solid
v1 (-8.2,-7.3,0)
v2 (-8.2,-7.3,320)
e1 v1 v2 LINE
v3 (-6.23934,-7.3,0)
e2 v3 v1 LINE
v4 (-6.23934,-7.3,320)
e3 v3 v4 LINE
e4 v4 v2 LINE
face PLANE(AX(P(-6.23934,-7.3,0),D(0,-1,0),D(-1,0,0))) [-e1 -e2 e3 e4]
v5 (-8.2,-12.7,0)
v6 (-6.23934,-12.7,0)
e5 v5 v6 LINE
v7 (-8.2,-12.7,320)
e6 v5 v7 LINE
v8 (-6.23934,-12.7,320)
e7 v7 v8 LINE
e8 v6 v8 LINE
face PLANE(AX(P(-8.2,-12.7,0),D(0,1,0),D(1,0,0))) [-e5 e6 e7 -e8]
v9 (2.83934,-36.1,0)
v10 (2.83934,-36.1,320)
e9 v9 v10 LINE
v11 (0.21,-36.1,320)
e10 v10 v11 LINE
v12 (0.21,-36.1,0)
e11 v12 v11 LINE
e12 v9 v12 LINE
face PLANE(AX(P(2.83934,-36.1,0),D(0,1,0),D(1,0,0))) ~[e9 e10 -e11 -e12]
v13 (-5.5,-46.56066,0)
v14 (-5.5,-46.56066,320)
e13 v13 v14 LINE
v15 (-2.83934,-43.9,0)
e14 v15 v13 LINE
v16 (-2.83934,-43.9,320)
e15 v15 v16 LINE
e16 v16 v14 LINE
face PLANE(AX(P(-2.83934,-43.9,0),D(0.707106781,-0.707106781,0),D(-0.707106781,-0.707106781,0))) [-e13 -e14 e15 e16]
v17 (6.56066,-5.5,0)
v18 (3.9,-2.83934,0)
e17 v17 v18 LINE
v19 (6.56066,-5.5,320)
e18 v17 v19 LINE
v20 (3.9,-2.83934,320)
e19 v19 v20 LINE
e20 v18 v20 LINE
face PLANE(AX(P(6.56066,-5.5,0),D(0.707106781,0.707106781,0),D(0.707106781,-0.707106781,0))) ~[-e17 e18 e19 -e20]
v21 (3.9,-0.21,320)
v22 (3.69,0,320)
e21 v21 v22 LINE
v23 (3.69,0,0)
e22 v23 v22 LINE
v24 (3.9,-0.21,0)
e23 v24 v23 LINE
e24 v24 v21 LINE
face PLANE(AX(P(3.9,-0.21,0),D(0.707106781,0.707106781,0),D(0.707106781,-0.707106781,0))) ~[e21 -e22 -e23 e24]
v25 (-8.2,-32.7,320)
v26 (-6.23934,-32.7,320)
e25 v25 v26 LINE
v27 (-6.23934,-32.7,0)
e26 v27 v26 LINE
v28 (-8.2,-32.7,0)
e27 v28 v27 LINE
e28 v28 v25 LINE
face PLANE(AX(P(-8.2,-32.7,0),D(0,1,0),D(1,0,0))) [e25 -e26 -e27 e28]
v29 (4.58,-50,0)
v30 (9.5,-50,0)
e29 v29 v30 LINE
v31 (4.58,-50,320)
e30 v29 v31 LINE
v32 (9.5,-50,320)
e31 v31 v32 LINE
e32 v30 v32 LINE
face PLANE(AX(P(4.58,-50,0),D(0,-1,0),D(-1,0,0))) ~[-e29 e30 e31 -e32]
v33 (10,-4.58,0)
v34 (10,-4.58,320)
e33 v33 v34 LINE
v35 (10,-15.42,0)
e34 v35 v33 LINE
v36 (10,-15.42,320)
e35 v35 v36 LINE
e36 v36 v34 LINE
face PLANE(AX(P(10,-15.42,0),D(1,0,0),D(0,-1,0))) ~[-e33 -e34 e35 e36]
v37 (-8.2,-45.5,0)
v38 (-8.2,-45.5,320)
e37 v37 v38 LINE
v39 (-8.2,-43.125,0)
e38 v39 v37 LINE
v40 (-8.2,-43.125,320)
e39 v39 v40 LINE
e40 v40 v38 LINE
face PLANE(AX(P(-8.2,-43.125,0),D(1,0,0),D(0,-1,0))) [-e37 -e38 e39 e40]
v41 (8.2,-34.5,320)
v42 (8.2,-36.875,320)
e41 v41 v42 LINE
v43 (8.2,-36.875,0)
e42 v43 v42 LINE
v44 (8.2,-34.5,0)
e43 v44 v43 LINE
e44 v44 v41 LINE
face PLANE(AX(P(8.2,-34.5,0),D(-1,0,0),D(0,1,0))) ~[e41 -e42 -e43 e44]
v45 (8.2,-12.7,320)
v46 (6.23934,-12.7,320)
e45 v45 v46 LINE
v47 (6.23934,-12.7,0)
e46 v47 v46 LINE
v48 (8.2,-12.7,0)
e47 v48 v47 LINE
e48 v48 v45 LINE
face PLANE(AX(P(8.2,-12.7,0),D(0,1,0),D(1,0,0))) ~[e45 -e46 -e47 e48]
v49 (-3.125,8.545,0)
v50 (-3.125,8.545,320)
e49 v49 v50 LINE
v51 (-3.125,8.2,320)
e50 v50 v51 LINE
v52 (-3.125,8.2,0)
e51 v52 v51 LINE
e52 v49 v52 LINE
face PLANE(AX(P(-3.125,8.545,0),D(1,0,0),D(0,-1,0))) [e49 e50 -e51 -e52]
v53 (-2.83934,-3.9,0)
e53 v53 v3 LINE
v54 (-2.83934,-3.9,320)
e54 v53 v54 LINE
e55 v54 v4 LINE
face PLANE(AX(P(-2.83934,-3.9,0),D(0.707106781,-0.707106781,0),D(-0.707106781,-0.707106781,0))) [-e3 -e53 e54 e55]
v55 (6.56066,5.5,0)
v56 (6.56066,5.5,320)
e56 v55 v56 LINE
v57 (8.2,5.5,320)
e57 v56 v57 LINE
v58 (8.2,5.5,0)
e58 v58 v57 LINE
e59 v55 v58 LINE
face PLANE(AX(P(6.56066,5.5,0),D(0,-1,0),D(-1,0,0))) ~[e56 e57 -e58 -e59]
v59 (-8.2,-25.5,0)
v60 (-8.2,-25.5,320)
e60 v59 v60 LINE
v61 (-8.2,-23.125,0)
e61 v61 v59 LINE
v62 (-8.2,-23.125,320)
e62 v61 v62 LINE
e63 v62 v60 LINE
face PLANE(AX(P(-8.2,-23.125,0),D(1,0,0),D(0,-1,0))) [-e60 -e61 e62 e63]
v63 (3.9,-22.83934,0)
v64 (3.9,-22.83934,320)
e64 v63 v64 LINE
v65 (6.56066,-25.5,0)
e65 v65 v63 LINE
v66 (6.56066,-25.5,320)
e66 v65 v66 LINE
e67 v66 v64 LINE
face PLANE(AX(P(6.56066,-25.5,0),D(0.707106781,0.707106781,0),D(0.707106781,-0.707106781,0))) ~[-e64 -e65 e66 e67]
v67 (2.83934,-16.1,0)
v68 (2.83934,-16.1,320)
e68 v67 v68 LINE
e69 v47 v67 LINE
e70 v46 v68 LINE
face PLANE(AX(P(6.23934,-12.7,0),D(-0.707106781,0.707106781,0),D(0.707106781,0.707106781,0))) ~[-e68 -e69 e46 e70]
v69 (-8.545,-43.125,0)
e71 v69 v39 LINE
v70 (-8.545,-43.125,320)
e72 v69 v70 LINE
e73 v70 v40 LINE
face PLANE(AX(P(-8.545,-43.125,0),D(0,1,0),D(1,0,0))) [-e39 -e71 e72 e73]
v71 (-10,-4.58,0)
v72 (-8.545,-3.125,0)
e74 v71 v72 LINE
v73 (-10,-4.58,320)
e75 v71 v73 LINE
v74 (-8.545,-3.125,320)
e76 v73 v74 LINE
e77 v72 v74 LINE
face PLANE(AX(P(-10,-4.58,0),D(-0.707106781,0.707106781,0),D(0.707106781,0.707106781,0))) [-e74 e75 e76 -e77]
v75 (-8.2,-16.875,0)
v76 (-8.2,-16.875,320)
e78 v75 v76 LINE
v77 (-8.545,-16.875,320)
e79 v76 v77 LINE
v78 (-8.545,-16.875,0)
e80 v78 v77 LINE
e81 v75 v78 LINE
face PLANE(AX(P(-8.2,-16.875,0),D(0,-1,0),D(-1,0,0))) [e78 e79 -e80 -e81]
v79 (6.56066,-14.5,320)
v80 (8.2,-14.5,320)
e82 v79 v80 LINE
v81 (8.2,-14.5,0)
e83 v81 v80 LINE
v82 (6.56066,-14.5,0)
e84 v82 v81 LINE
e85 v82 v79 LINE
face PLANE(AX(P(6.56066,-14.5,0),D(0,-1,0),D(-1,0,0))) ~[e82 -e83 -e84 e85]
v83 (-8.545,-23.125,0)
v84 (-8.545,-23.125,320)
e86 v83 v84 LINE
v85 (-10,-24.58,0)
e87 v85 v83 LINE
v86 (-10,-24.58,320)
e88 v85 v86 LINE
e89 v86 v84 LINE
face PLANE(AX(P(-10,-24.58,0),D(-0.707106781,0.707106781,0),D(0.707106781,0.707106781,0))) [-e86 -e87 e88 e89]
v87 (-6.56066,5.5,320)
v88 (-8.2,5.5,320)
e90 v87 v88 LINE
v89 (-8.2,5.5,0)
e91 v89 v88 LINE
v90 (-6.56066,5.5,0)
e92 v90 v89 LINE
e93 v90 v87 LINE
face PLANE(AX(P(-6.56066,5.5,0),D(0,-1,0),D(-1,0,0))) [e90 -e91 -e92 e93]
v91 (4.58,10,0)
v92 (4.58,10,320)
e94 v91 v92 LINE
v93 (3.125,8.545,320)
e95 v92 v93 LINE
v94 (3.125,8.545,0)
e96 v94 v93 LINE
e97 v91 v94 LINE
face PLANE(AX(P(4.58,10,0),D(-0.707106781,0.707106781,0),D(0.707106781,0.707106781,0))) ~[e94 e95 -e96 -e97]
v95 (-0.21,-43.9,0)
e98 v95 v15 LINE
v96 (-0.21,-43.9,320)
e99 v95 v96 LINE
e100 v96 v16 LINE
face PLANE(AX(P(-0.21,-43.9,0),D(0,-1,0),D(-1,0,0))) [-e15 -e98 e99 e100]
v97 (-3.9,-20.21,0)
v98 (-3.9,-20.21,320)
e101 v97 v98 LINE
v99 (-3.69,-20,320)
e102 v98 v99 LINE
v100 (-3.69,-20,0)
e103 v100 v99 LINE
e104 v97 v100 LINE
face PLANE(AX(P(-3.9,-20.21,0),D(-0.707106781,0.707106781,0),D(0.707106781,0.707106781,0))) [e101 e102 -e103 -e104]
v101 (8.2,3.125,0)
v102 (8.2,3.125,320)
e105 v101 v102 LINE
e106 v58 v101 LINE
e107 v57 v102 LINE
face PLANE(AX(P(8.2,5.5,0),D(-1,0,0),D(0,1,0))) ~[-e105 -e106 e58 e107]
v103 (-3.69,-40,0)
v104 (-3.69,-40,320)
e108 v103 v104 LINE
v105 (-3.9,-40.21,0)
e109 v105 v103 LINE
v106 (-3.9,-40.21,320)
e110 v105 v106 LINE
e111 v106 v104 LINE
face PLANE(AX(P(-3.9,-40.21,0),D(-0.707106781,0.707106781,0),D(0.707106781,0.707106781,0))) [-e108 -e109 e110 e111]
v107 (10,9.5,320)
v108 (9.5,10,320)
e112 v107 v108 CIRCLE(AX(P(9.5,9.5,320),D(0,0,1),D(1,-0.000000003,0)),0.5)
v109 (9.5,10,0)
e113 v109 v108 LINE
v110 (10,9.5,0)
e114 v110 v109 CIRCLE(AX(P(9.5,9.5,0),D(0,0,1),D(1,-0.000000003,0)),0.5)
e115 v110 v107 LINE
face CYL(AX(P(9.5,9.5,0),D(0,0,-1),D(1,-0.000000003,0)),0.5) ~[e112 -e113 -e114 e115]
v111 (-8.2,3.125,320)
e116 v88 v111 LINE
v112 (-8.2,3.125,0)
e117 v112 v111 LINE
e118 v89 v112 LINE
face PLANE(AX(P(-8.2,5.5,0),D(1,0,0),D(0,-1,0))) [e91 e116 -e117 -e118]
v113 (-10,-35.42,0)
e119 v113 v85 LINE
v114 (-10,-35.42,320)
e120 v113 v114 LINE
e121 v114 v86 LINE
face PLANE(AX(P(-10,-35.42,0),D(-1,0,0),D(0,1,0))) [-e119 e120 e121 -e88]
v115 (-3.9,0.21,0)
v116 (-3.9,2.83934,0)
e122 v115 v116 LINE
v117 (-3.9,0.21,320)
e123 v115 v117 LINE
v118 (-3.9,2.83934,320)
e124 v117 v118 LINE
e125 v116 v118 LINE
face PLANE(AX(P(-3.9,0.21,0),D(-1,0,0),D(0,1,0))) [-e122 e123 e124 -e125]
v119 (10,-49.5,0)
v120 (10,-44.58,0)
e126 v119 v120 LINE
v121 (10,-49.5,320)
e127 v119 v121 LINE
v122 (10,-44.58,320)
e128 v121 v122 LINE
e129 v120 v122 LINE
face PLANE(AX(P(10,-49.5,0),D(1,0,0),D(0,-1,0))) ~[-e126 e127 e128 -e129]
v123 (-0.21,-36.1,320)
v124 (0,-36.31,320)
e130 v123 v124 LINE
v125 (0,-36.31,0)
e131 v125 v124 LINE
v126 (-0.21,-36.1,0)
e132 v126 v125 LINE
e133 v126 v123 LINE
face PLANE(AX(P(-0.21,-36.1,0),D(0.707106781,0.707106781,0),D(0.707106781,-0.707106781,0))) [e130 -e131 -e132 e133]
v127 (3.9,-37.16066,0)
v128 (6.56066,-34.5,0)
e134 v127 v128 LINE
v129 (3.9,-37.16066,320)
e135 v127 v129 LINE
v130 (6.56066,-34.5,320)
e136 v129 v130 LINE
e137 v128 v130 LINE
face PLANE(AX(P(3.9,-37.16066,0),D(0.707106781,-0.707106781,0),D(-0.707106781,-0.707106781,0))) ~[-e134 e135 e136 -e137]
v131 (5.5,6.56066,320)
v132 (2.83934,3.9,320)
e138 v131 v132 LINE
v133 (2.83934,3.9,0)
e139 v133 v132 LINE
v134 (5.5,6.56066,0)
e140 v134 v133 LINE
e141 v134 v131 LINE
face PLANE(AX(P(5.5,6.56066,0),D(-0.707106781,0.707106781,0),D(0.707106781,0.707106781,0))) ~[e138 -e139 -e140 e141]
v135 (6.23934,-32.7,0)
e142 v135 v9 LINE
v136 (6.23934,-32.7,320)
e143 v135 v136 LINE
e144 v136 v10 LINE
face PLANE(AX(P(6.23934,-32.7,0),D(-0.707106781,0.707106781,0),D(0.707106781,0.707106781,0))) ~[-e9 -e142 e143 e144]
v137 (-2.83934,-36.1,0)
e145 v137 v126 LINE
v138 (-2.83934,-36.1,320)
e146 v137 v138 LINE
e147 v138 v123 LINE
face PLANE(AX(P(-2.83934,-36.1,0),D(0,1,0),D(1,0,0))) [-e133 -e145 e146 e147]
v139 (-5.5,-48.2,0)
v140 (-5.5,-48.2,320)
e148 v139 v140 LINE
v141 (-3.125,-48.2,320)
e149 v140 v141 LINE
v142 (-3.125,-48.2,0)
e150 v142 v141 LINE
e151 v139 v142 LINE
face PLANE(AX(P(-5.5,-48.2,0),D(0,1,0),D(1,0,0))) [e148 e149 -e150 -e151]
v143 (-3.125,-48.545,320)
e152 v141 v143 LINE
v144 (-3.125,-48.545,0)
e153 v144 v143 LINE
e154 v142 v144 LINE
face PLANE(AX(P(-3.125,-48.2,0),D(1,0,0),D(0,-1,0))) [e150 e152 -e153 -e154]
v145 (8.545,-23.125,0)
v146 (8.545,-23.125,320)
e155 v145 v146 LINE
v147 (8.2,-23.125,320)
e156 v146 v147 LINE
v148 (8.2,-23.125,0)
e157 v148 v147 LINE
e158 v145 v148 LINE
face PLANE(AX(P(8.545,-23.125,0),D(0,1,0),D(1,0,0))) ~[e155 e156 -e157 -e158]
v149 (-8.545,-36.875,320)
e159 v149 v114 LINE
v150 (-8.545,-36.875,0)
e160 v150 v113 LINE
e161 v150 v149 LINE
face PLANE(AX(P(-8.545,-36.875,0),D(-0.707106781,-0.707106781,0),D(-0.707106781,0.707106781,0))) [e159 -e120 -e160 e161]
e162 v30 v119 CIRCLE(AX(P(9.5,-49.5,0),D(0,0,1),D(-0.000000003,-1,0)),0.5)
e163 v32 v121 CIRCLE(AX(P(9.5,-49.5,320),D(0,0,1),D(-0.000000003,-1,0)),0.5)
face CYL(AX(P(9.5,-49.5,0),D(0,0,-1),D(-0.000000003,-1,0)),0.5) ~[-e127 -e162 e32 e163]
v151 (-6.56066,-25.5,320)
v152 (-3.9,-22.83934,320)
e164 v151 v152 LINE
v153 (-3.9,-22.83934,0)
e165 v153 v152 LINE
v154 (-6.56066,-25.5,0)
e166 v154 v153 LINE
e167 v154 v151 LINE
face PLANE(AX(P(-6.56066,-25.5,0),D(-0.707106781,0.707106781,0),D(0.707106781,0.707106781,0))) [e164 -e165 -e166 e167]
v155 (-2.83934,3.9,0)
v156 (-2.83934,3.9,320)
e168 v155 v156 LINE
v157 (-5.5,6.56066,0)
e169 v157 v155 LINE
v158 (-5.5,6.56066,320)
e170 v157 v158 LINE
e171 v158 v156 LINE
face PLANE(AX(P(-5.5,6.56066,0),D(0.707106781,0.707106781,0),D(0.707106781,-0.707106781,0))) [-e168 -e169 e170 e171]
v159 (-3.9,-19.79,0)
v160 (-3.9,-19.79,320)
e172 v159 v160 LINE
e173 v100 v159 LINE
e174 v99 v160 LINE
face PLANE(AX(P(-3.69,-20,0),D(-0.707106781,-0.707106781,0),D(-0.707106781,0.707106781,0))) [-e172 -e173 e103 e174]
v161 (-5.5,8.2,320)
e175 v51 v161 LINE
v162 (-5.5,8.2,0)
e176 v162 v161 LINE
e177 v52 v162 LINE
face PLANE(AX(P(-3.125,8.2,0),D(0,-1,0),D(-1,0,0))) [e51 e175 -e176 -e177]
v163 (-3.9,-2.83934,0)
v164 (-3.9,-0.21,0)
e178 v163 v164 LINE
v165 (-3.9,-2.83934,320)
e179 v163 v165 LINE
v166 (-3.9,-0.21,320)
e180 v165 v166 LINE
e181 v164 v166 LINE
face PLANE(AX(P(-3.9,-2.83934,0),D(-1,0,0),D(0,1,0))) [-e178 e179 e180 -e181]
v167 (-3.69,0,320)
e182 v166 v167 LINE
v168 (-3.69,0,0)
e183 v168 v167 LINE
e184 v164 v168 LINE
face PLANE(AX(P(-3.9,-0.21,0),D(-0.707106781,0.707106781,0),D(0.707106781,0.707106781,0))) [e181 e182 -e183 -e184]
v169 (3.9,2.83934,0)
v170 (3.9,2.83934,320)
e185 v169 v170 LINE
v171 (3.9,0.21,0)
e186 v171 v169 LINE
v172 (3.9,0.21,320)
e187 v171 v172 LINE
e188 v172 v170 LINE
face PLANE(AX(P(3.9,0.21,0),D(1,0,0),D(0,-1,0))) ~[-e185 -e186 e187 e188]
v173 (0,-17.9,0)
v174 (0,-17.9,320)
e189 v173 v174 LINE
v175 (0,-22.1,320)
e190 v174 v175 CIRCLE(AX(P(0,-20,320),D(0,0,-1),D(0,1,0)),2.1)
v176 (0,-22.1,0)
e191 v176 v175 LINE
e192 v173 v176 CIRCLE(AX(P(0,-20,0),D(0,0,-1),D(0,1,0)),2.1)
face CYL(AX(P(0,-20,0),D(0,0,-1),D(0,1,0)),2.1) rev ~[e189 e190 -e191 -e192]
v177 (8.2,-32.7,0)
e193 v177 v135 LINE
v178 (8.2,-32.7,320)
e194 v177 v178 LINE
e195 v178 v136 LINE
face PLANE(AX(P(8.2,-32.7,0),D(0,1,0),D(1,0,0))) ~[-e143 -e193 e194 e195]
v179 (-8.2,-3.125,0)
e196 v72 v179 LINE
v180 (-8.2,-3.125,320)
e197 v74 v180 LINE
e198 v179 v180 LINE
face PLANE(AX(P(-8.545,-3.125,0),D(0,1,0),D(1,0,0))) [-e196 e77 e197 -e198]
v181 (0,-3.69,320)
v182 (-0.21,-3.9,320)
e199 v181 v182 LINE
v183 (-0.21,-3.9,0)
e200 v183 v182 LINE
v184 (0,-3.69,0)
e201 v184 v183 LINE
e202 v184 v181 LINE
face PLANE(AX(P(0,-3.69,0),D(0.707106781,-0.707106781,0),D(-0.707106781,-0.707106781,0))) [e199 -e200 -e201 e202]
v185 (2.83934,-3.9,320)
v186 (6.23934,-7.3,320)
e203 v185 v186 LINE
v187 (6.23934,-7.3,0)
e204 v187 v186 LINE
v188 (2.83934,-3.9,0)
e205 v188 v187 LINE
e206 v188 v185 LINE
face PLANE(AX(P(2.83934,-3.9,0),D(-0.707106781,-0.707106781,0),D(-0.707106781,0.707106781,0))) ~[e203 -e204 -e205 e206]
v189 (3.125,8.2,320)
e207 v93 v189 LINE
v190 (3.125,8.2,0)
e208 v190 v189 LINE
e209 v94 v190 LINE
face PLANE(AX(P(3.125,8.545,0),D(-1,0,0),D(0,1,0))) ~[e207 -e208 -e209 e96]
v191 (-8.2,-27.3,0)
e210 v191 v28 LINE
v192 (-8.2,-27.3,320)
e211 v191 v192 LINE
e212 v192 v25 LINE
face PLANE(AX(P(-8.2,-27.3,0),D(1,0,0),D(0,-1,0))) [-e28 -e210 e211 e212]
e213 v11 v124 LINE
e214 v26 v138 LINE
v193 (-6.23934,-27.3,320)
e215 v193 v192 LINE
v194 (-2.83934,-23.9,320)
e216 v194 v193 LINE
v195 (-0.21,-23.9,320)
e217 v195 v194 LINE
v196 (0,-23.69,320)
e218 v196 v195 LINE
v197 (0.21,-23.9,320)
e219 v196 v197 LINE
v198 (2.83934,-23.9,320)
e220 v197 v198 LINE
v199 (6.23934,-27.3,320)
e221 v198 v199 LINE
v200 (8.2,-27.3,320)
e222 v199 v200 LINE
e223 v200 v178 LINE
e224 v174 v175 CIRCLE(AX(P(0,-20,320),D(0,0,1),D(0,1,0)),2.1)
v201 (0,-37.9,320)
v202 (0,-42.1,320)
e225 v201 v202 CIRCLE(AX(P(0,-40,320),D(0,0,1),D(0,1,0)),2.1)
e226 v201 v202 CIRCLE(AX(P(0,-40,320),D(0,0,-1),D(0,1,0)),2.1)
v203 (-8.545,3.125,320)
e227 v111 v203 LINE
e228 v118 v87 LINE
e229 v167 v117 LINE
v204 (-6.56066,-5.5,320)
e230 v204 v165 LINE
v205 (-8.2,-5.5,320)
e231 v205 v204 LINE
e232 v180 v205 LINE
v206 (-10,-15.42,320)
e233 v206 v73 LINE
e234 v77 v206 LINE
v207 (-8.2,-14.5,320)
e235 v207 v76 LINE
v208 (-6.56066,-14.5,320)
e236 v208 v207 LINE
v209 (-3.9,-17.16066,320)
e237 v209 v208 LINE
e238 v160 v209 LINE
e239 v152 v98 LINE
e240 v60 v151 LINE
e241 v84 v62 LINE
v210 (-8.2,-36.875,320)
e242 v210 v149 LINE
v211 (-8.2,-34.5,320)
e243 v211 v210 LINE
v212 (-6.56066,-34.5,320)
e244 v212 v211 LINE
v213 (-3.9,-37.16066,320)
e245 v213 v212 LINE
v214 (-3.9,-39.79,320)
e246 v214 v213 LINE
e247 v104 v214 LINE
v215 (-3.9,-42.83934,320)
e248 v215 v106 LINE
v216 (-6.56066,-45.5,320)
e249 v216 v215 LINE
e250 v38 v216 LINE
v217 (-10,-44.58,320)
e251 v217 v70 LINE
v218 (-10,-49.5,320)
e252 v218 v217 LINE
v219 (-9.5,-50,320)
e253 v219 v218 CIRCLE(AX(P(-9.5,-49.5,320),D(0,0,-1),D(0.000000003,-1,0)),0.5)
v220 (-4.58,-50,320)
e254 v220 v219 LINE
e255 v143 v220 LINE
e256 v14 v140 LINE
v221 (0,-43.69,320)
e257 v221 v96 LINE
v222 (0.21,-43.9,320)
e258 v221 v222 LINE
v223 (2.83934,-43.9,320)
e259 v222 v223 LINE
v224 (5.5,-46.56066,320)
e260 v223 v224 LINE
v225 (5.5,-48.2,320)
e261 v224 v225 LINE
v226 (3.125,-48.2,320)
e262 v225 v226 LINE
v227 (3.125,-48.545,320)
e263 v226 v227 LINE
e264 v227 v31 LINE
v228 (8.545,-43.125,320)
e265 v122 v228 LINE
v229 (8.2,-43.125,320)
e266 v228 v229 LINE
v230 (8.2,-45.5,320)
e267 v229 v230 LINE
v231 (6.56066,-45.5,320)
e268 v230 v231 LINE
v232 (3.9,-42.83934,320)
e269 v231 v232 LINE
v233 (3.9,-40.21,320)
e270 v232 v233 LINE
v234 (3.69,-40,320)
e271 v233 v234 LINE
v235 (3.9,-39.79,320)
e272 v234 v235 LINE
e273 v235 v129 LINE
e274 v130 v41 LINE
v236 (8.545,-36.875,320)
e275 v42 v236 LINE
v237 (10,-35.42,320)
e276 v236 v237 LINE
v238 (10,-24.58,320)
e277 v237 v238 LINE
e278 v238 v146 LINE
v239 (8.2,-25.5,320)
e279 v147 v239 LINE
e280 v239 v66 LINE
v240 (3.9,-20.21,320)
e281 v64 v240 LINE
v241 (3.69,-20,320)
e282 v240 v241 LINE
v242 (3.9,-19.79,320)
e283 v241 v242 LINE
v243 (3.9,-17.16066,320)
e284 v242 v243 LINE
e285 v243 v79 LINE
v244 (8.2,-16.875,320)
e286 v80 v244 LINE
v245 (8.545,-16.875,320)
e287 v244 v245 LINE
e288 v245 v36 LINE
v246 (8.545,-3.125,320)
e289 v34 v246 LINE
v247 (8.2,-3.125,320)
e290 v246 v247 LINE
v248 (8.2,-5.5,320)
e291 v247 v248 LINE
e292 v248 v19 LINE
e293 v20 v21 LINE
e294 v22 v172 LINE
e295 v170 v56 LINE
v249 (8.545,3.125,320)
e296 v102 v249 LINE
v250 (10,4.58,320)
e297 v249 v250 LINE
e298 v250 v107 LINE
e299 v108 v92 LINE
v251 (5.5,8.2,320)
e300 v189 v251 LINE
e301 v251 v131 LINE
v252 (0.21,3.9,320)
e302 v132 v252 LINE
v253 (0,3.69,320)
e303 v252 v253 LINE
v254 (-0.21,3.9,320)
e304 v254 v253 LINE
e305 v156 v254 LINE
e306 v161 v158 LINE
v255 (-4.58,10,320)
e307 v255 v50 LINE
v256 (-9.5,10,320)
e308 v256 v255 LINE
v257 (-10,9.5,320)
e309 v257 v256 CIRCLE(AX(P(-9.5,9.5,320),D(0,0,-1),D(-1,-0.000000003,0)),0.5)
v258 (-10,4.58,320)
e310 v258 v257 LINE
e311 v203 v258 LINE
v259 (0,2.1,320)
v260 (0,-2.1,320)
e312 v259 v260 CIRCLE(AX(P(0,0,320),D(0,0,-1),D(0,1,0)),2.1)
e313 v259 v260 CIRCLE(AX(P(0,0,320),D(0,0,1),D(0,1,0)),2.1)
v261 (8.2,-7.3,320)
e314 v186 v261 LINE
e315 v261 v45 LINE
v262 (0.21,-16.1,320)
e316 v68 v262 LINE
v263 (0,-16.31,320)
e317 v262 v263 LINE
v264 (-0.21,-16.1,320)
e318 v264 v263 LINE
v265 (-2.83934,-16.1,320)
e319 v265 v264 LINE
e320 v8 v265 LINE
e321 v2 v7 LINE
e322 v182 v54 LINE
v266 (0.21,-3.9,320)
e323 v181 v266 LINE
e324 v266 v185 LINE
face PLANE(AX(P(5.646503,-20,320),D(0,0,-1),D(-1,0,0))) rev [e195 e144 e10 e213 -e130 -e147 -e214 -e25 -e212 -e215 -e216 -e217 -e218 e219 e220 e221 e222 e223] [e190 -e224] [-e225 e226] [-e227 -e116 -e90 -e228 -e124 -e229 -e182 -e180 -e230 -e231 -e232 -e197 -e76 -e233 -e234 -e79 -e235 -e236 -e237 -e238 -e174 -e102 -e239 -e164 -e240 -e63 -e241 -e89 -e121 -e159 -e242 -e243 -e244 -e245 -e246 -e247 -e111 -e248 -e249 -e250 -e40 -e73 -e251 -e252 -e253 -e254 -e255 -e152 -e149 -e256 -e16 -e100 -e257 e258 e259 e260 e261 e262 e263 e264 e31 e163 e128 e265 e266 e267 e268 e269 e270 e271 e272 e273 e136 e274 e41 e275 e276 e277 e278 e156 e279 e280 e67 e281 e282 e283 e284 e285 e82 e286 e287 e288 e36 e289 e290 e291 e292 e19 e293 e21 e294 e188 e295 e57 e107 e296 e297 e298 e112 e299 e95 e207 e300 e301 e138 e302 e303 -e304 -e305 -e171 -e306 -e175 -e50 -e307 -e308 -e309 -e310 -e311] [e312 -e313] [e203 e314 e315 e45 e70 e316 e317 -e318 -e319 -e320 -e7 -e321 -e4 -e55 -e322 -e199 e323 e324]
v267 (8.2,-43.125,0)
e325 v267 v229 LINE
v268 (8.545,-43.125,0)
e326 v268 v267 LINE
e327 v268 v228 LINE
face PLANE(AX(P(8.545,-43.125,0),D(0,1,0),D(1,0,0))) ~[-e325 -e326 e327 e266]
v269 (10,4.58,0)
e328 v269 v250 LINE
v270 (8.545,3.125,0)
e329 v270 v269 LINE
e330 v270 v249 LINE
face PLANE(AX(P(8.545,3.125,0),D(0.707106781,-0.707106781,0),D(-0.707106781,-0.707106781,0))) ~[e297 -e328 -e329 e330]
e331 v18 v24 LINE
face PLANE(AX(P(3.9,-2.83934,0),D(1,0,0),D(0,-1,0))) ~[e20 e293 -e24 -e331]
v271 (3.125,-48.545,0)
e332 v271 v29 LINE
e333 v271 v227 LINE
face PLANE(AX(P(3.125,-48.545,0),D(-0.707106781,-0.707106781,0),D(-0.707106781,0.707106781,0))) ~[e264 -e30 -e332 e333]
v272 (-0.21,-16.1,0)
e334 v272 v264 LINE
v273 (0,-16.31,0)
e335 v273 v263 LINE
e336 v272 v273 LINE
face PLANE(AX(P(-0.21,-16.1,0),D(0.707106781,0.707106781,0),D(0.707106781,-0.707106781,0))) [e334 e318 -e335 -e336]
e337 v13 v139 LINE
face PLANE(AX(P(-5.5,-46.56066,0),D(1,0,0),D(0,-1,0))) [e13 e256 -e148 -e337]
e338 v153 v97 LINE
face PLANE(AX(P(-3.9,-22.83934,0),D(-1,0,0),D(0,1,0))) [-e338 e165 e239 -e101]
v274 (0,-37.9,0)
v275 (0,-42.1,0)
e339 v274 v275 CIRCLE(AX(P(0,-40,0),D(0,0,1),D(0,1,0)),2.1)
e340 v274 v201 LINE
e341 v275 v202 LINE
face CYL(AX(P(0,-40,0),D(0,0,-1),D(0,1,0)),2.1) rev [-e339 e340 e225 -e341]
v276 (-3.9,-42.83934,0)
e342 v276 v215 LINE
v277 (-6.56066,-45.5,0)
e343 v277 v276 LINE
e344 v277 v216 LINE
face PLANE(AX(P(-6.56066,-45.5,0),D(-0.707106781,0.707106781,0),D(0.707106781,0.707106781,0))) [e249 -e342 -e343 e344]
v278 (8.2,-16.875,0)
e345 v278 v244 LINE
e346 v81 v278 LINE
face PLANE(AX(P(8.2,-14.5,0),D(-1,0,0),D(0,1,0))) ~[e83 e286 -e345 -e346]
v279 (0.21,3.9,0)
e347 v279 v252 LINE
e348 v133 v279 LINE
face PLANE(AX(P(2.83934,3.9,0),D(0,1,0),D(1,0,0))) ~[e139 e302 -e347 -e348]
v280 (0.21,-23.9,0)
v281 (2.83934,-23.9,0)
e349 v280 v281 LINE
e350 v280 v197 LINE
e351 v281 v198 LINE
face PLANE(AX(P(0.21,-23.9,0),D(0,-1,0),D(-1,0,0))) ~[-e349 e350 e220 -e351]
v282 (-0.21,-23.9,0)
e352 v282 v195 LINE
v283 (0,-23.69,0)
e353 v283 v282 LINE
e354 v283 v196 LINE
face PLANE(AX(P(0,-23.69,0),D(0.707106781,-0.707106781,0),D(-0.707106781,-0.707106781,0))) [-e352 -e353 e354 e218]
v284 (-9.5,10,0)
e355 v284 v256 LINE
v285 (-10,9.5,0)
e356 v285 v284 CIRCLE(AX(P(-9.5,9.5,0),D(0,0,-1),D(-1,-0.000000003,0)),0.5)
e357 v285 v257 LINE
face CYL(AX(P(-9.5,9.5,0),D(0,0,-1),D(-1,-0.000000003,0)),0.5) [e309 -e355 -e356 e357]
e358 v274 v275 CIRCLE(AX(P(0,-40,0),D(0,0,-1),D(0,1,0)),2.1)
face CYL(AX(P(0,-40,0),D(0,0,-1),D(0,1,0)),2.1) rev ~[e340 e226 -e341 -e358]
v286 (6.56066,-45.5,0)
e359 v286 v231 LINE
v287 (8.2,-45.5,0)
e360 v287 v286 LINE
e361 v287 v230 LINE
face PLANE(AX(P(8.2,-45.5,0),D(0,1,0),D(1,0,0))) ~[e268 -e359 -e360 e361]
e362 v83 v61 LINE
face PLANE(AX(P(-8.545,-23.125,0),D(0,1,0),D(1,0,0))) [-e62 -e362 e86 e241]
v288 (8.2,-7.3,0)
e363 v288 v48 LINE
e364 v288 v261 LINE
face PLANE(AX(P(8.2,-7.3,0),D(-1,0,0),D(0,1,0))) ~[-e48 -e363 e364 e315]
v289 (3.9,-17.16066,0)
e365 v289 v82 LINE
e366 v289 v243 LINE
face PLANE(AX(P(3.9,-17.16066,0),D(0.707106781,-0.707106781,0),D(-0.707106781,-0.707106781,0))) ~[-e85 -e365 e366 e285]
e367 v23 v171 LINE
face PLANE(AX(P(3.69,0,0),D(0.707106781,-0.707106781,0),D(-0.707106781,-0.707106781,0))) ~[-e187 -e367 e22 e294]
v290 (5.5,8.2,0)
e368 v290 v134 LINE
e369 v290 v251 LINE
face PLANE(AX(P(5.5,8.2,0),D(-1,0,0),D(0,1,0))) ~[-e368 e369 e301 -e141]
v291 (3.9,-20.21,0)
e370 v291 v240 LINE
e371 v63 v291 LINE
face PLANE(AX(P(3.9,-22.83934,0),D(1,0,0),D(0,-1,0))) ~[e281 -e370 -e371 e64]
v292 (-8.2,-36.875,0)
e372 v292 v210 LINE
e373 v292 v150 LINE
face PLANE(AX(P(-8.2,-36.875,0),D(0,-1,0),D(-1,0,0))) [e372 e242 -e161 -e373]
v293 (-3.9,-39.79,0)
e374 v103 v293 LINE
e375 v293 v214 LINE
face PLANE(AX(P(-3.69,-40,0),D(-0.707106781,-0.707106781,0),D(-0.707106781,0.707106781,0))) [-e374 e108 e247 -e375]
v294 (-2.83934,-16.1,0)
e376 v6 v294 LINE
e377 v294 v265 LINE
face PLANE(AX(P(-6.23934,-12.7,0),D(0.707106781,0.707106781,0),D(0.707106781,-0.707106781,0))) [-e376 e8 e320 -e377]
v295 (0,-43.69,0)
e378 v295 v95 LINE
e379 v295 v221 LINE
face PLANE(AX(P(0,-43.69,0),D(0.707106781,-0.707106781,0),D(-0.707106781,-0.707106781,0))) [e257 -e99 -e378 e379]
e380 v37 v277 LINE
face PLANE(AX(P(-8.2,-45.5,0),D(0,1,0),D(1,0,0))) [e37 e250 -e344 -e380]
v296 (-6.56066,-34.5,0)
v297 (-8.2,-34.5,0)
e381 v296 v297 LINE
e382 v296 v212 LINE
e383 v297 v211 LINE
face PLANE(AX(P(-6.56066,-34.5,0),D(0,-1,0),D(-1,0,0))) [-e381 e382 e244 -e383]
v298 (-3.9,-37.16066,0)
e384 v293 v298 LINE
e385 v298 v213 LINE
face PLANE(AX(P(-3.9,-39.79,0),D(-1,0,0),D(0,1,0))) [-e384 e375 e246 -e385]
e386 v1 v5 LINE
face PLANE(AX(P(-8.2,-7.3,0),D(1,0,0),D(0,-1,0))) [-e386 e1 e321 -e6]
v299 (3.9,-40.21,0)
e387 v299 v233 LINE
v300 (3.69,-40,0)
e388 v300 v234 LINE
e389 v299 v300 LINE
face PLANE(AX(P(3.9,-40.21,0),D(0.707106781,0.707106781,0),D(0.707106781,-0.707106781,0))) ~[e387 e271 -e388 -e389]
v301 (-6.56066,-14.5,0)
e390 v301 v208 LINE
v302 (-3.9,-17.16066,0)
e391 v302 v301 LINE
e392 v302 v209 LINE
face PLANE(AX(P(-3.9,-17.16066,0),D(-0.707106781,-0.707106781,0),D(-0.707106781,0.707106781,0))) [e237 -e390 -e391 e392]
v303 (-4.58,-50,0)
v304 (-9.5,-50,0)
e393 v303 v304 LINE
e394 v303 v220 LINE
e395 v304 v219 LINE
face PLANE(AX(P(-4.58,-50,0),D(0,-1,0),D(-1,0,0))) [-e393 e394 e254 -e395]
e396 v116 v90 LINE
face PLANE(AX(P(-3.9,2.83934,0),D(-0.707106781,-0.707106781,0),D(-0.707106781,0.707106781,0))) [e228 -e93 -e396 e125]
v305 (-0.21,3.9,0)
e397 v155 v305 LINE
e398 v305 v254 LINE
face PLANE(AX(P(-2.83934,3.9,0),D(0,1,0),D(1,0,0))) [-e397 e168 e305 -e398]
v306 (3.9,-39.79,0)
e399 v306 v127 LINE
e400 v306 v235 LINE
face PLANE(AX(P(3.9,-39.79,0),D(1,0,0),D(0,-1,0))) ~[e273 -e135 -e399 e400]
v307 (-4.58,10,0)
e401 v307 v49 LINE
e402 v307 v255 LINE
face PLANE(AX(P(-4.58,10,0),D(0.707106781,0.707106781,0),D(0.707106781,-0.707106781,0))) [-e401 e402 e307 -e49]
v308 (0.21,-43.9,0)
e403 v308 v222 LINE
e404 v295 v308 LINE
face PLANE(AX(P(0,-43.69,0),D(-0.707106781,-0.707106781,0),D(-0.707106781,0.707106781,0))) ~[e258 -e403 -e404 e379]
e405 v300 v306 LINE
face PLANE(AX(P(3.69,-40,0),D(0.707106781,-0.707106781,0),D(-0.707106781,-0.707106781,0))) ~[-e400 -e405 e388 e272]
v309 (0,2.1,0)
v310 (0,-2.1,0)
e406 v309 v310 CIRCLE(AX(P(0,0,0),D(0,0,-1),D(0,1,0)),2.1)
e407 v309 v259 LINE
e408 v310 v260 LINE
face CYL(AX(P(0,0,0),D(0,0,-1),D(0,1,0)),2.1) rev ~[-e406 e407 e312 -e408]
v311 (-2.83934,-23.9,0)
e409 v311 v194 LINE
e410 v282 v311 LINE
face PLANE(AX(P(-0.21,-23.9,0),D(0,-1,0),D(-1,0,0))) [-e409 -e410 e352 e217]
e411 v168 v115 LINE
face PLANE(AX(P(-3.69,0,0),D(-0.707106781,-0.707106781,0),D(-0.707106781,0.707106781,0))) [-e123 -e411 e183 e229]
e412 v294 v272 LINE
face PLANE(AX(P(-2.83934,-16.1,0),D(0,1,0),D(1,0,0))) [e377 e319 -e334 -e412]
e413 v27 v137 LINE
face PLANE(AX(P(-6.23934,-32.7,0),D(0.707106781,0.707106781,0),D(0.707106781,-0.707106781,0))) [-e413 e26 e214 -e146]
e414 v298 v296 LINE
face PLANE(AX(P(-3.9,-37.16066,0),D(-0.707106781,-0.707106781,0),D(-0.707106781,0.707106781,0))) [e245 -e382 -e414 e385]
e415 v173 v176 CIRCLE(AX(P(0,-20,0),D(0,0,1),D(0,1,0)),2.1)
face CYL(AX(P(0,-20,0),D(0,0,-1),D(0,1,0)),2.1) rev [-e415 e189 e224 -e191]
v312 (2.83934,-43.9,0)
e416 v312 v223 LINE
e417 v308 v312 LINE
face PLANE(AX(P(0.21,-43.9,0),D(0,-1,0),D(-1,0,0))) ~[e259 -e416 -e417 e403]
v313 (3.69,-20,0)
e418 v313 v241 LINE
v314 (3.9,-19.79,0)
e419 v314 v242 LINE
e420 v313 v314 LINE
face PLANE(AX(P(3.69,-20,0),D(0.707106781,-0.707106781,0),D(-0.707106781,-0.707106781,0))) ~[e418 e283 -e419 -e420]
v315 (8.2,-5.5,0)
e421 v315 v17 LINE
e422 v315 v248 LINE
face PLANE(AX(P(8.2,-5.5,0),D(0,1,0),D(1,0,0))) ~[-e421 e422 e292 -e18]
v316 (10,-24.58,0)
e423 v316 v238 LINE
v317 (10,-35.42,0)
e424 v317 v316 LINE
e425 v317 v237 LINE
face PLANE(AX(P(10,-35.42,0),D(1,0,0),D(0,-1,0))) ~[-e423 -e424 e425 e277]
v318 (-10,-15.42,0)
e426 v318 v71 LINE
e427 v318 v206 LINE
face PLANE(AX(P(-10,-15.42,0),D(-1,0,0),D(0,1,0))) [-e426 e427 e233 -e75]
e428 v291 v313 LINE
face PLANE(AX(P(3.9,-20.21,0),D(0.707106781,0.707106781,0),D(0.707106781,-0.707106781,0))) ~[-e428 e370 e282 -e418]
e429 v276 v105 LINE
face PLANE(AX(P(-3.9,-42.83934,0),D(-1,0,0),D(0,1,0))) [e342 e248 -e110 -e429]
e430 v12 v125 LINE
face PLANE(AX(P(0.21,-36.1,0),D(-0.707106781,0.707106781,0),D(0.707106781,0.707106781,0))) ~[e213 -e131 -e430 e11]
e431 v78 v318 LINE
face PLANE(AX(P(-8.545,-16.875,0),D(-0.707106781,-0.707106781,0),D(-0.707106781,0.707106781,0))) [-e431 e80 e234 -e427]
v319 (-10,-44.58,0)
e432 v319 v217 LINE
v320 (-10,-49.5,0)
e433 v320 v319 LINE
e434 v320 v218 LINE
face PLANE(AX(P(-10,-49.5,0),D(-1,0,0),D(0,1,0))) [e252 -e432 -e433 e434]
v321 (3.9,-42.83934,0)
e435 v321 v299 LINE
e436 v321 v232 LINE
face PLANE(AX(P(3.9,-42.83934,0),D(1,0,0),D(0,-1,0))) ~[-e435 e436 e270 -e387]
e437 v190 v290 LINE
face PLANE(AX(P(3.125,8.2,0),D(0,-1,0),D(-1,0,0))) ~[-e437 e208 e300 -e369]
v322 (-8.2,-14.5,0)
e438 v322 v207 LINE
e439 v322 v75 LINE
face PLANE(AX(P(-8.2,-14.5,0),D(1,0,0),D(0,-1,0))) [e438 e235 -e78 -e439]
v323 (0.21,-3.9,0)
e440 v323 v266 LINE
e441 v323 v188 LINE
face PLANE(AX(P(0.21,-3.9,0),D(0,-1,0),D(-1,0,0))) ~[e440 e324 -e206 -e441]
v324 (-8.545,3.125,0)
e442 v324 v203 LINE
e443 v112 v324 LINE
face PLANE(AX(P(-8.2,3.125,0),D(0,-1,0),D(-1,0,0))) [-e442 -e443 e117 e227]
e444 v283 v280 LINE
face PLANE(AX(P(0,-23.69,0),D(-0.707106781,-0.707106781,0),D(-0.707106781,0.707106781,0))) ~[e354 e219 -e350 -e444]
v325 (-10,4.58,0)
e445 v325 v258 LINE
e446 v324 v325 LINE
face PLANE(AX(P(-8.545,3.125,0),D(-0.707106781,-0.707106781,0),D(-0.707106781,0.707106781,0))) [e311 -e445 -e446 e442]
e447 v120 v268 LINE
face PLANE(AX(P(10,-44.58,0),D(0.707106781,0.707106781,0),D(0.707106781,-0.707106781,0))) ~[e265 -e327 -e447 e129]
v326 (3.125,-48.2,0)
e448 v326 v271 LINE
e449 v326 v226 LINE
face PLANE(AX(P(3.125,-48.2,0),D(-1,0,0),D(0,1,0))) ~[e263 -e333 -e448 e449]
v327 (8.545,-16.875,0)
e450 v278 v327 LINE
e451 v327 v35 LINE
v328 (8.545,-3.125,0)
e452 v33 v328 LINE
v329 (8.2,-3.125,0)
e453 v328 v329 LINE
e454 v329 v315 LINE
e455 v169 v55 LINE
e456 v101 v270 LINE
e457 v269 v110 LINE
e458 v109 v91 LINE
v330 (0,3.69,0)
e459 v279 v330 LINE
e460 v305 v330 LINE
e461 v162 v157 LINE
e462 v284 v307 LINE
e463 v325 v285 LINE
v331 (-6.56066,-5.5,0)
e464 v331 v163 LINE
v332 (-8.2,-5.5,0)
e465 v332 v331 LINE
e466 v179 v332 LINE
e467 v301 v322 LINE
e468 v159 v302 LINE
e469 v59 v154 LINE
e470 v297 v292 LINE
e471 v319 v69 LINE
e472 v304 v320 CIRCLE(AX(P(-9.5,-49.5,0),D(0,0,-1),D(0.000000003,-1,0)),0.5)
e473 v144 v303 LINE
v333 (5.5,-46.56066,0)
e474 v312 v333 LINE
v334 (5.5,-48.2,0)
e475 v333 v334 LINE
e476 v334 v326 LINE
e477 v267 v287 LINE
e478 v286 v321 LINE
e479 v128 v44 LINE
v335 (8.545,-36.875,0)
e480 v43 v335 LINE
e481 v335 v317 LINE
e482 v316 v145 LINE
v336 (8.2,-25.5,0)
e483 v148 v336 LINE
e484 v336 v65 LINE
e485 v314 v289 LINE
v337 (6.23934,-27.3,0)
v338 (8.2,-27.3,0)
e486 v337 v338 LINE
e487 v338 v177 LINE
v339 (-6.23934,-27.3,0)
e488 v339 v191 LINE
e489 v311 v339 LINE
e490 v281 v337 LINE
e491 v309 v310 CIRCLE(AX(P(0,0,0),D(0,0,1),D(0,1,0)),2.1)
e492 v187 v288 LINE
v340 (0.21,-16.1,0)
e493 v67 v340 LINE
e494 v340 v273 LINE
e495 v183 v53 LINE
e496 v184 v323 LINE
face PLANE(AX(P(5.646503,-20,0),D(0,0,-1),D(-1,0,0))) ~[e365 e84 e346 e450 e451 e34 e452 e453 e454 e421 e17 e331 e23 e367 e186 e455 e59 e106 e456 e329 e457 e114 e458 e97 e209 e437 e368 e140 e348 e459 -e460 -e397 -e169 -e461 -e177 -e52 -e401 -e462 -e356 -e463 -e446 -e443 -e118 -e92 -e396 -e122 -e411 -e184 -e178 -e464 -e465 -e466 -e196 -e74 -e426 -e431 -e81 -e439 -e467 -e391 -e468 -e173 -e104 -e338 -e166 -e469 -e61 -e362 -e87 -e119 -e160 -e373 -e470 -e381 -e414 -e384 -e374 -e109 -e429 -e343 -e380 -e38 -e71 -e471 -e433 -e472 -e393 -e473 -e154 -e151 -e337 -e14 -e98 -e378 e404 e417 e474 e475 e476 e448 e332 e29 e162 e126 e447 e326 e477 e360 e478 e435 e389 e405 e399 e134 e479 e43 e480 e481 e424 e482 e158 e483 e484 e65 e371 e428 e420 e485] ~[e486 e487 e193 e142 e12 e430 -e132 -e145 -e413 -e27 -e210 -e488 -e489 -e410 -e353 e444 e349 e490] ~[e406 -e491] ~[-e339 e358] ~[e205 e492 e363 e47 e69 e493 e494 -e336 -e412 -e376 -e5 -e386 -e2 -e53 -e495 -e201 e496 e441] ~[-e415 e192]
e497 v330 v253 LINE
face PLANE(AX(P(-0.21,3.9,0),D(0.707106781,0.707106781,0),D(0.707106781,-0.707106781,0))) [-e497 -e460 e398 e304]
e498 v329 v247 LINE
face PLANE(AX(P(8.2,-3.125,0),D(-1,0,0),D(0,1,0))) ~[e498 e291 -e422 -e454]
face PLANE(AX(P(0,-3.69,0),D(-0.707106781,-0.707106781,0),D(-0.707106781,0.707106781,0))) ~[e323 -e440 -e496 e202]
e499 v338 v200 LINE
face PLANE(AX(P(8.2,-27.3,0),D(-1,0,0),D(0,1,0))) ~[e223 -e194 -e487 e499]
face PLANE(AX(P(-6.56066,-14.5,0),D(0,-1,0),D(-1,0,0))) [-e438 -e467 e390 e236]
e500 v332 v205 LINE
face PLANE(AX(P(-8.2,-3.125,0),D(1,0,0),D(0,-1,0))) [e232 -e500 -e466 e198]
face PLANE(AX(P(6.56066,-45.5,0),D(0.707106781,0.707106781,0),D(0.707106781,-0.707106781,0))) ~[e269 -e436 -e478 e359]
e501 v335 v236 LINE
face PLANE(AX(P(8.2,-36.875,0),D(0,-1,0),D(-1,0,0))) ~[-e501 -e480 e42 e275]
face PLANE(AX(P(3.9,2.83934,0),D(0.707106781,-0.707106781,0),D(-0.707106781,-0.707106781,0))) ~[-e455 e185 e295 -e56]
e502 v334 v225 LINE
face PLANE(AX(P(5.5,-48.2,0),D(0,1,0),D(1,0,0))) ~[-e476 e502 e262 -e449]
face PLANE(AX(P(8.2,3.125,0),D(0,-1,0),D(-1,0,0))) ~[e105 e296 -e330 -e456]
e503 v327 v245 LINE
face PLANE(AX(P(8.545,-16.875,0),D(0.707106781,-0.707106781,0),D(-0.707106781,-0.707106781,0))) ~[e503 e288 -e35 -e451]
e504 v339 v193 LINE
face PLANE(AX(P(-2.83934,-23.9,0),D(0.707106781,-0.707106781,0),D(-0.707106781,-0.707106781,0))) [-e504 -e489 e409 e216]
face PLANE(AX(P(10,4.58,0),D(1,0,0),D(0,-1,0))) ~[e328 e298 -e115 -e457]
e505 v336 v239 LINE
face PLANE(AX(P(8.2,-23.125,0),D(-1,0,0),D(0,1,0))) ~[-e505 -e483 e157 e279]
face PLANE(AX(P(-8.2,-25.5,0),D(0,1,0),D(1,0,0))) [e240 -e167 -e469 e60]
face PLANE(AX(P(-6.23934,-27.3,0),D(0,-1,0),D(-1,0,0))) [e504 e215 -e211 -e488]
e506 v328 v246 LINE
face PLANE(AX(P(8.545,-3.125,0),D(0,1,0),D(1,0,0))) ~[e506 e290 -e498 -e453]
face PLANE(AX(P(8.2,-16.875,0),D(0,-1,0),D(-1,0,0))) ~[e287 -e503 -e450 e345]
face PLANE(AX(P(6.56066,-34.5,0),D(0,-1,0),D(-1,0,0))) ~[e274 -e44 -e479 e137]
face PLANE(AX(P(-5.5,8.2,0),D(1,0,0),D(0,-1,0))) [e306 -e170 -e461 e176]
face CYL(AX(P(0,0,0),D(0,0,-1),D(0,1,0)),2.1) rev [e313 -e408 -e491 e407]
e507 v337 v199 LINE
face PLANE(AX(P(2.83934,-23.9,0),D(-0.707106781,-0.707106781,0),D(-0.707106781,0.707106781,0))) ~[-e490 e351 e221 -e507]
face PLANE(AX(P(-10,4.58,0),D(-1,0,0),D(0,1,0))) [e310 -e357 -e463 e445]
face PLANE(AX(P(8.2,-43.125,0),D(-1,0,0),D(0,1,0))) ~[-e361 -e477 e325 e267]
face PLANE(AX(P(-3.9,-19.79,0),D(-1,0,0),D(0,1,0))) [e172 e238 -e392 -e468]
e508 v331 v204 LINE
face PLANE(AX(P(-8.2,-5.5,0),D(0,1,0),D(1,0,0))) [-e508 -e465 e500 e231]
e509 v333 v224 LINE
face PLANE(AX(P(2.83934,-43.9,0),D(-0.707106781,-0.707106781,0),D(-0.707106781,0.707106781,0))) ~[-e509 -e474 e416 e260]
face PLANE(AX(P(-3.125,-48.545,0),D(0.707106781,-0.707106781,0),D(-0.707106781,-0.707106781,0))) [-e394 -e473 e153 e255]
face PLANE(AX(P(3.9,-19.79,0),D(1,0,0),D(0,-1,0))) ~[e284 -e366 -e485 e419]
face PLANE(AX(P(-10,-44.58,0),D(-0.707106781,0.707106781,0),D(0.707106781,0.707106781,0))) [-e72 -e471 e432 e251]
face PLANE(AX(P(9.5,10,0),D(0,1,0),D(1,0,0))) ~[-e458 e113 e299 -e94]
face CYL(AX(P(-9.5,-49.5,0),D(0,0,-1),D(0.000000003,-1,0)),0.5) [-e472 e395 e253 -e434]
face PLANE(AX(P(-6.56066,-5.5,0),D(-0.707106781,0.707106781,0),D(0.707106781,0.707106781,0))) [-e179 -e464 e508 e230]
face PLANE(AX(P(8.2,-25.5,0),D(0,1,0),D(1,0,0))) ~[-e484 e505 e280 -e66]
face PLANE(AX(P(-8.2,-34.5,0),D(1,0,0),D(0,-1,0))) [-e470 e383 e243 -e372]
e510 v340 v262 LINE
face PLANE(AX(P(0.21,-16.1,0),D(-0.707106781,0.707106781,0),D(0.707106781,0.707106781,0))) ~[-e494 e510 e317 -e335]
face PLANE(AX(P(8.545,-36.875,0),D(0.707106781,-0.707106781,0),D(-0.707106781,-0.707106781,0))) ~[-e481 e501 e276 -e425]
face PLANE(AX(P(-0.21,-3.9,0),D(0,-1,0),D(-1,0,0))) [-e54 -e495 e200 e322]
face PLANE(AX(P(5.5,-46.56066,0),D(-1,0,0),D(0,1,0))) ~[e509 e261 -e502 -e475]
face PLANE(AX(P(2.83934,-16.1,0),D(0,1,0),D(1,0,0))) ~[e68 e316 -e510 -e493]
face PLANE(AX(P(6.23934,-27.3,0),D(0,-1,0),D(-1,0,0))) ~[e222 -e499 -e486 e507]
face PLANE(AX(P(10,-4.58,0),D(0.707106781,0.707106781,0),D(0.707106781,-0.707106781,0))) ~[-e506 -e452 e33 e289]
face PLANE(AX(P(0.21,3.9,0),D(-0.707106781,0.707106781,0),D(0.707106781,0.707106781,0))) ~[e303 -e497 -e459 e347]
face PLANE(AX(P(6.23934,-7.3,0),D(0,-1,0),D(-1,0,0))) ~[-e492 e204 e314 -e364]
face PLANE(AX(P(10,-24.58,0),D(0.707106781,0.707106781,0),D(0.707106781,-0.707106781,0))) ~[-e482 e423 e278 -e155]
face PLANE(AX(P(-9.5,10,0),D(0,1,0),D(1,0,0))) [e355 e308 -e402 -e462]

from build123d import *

# Parameters (mm, degrees)
BOSS_EXTRU_1_DEPTH = 320


with BuildPart() as part:
    # Esquisse1 → Boss.-Extru.1 (new body)
    with BuildSketch(Plane.XY):
        with BuildLine():
            Line((-9.5, 10), (-4.58, 10))
            Line((-4.58, 10), (-3.125, 8.545))
            Line((-3.125, 8.545), (-3.125, 8.2))
            Line((-3.125, 8.2), (-5.5, 8.2))
            Line((-5.5, 8.2), (-5.5, 6.560660172))
            Line((-5.5, 6.560660172), (-2.839339828, 3.9))
            Line((-2.839339828, 3.9), (-0.21, 3.9))
            Line((-0.21, 3.9), (0, 3.69))
            Line((0, 3.69), (0, 2.1))
            ThreePointArc((0, 2.1), (-2.1, 0), (0, -2.1))
            Line((0, -2.1), (0, -3.69))
            Line((0, -3.69), (-0.21, -3.9))
            Line((-0.21, -3.9), (-2.839339828, -3.9))
            Line((-2.839339828, -3.9), (-6.239339828, -7.3))
            Line((-6.239339828, -7.3), (-8.2, -7.3))
            Line((-8.2, -7.3), (-8.2, -12.7))
            Line((-8.2, -12.7), (-6.239339828, -12.7))
            Line((-6.239339828, -12.7), (-2.839339828, -16.1))
            Line((-2.839339828, -16.1), (-0.21, -16.1))
            Line((-0.21, -16.1), (0, -16.31))
            Line((0, -16.31), (0, -17.9))
            ThreePointArc((0, -17.9), (-2.1, -20), (0, -22.1))
            Line((0, -22.1), (0, -23.69))
            Line((0, -23.69), (-0.21, -23.9))
            Line((-0.21, -23.9), (-2.839339828, -23.9))
            Line((-2.839339828, -23.9), (-6.239339828, -27.3))
            Line((-6.239339828, -27.3), (-8.2, -27.3))
            Line((-8.2, -27.3), (-8.2, -32.7))
            Line((-8.2, -32.7), (-6.239339828, -32.7))
            Line((-6.239339828, -32.7), (-2.839339828, -36.1))
            Line((-2.839339828, -36.1), (-0.21, -36.1))
            Line((-0.21, -36.1), (0, -36.31))
            Line((0, -36.31), (0, -37.9))
            ThreePointArc((0, -37.9), (-2.1, -40), (0, -42.1))
            Line((0, -42.1), (0, -43.69))
            Line((0, -43.69), (-0.21, -43.9))
            Line((-0.21, -43.9), (-2.839339828, -43.9))
            Line((-2.839339828, -43.9), (-5.5, -46.560660172))
            Line((-5.5, -46.560660172), (-5.5, -48.2))
            Line((-5.5, -48.2), (-3.125, -48.2))
            Line((-3.125, -48.2), (-3.125, -48.545))
            Line((-3.125, -48.545), (-4.58, -50))
            Line((-4.58, -50), (-9.5, -50))
            ThreePointArc((-9.5, -50), (-9.853553391, -49.853553391), (-10, -49.5))
            Line((-10, -49.5), (-10, -44.58))
            Line((-10, -44.58), (-8.545, -43.125))
            Line((-8.545, -43.125), (-8.2, -43.125))
            Line((-8.2, -43.125), (-8.2, -45.5))
            Line((-8.2, -45.5), (-6.560660172, -45.5))
            Line((-6.560660172, -45.5), (-3.9, -42.839339828))
            Line((-3.9, -42.839339828), (-3.9, -40.21))
            Line((-3.9, -40.21), (-3.69, -40))
            Line((-3.69, -40), (-3.9, -39.79))
            Line((-3.9, -39.79), (-3.9, -37.160660172))
            Line((-3.9, -37.160660172), (-6.560660172, -34.5))
            Line((-6.560660172, -34.5), (-8.2, -34.5))
            Line((-8.2, -34.5), (-8.2, -36.875))
            Line((-8.2, -36.875), (-8.545, -36.875))
            Line((-8.545, -36.875), (-10, -35.42))
            Line((-10, -35.42), (-10, -24.58))
            Line((-10, -24.58), (-8.545, -23.125))
            Line((-8.545, -23.125), (-8.2, -23.125))
            Line((-8.2, -23.125), (-8.2, -25.5))
            Line((-8.2, -25.5), (-6.560660172, -25.5))
            Line((-6.560660172, -25.5), (-3.9, -22.839339828))
            Line((-3.9, -22.839339828), (-3.9, -20.21))
            Line((-3.9, -20.21), (-3.69, -20))
            Line((-3.69, -20), (-3.9, -19.79))
            Line((-3.9, -19.79), (-3.9, -17.160660172))
            Line((-3.9, -17.160660172), (-6.560660172, -14.5))
            Line((-6.560660172, -14.5), (-8.2, -14.5))
            Line((-8.2, -14.5), (-8.2, -16.875))
            Line((-8.2, -16.875), (-8.545, -16.875))
            Line((-8.545, -16.875), (-10, -15.42))
            Line((-10, -15.42), (-10, -4.58))
            Line((-10, -4.58), (-8.545, -3.125))
            Line((-8.545, -3.125), (-8.2, -3.125))
            Line((-8.2, -3.125), (-8.2, -5.5))
            Line((-8.2, -5.5), (-6.560660172, -5.5))
            Line((-6.560660172, -5.5), (-3.9, -2.839339828))
            Line((-3.9, -2.839339828), (-3.9, -0.21))
            Line((-3.9, -0.21), (-3.69, 0))
            Line((-3.69, 0), (-3.9, 0.21))
            Line((-3.9, 0.21), (-3.9, 2.839339828))
            Line((-3.9, 2.839339828), (-6.560660172, 5.5))
            Line((-6.560660172, 5.5), (-8.2, 5.5))
            Line((-8.2, 5.5), (-8.2, 3.125))
            Line((-8.2, 3.125), (-8.545, 3.125))
            Line((-8.545, 3.125), (-10, 4.58))
            Line((-10, 4.58), (-10, 9.5))
            ThreePointArc((-10, 9.5), (-9.853553391, 9.853553391), (-9.5, 10))
        make_face()
    boss_extru_1 = extrude(amount=BOSS_EXTRU_1_DEPTH)

    # Symétrie1: Boss.-Extru.1 across plane
    add(boss_extru_1.mirror(Plane(origin=(0, 3.69, 320), x_dir=(0, 0, 1), z_dir=(-1, 0, 0))))


solid = part.part
